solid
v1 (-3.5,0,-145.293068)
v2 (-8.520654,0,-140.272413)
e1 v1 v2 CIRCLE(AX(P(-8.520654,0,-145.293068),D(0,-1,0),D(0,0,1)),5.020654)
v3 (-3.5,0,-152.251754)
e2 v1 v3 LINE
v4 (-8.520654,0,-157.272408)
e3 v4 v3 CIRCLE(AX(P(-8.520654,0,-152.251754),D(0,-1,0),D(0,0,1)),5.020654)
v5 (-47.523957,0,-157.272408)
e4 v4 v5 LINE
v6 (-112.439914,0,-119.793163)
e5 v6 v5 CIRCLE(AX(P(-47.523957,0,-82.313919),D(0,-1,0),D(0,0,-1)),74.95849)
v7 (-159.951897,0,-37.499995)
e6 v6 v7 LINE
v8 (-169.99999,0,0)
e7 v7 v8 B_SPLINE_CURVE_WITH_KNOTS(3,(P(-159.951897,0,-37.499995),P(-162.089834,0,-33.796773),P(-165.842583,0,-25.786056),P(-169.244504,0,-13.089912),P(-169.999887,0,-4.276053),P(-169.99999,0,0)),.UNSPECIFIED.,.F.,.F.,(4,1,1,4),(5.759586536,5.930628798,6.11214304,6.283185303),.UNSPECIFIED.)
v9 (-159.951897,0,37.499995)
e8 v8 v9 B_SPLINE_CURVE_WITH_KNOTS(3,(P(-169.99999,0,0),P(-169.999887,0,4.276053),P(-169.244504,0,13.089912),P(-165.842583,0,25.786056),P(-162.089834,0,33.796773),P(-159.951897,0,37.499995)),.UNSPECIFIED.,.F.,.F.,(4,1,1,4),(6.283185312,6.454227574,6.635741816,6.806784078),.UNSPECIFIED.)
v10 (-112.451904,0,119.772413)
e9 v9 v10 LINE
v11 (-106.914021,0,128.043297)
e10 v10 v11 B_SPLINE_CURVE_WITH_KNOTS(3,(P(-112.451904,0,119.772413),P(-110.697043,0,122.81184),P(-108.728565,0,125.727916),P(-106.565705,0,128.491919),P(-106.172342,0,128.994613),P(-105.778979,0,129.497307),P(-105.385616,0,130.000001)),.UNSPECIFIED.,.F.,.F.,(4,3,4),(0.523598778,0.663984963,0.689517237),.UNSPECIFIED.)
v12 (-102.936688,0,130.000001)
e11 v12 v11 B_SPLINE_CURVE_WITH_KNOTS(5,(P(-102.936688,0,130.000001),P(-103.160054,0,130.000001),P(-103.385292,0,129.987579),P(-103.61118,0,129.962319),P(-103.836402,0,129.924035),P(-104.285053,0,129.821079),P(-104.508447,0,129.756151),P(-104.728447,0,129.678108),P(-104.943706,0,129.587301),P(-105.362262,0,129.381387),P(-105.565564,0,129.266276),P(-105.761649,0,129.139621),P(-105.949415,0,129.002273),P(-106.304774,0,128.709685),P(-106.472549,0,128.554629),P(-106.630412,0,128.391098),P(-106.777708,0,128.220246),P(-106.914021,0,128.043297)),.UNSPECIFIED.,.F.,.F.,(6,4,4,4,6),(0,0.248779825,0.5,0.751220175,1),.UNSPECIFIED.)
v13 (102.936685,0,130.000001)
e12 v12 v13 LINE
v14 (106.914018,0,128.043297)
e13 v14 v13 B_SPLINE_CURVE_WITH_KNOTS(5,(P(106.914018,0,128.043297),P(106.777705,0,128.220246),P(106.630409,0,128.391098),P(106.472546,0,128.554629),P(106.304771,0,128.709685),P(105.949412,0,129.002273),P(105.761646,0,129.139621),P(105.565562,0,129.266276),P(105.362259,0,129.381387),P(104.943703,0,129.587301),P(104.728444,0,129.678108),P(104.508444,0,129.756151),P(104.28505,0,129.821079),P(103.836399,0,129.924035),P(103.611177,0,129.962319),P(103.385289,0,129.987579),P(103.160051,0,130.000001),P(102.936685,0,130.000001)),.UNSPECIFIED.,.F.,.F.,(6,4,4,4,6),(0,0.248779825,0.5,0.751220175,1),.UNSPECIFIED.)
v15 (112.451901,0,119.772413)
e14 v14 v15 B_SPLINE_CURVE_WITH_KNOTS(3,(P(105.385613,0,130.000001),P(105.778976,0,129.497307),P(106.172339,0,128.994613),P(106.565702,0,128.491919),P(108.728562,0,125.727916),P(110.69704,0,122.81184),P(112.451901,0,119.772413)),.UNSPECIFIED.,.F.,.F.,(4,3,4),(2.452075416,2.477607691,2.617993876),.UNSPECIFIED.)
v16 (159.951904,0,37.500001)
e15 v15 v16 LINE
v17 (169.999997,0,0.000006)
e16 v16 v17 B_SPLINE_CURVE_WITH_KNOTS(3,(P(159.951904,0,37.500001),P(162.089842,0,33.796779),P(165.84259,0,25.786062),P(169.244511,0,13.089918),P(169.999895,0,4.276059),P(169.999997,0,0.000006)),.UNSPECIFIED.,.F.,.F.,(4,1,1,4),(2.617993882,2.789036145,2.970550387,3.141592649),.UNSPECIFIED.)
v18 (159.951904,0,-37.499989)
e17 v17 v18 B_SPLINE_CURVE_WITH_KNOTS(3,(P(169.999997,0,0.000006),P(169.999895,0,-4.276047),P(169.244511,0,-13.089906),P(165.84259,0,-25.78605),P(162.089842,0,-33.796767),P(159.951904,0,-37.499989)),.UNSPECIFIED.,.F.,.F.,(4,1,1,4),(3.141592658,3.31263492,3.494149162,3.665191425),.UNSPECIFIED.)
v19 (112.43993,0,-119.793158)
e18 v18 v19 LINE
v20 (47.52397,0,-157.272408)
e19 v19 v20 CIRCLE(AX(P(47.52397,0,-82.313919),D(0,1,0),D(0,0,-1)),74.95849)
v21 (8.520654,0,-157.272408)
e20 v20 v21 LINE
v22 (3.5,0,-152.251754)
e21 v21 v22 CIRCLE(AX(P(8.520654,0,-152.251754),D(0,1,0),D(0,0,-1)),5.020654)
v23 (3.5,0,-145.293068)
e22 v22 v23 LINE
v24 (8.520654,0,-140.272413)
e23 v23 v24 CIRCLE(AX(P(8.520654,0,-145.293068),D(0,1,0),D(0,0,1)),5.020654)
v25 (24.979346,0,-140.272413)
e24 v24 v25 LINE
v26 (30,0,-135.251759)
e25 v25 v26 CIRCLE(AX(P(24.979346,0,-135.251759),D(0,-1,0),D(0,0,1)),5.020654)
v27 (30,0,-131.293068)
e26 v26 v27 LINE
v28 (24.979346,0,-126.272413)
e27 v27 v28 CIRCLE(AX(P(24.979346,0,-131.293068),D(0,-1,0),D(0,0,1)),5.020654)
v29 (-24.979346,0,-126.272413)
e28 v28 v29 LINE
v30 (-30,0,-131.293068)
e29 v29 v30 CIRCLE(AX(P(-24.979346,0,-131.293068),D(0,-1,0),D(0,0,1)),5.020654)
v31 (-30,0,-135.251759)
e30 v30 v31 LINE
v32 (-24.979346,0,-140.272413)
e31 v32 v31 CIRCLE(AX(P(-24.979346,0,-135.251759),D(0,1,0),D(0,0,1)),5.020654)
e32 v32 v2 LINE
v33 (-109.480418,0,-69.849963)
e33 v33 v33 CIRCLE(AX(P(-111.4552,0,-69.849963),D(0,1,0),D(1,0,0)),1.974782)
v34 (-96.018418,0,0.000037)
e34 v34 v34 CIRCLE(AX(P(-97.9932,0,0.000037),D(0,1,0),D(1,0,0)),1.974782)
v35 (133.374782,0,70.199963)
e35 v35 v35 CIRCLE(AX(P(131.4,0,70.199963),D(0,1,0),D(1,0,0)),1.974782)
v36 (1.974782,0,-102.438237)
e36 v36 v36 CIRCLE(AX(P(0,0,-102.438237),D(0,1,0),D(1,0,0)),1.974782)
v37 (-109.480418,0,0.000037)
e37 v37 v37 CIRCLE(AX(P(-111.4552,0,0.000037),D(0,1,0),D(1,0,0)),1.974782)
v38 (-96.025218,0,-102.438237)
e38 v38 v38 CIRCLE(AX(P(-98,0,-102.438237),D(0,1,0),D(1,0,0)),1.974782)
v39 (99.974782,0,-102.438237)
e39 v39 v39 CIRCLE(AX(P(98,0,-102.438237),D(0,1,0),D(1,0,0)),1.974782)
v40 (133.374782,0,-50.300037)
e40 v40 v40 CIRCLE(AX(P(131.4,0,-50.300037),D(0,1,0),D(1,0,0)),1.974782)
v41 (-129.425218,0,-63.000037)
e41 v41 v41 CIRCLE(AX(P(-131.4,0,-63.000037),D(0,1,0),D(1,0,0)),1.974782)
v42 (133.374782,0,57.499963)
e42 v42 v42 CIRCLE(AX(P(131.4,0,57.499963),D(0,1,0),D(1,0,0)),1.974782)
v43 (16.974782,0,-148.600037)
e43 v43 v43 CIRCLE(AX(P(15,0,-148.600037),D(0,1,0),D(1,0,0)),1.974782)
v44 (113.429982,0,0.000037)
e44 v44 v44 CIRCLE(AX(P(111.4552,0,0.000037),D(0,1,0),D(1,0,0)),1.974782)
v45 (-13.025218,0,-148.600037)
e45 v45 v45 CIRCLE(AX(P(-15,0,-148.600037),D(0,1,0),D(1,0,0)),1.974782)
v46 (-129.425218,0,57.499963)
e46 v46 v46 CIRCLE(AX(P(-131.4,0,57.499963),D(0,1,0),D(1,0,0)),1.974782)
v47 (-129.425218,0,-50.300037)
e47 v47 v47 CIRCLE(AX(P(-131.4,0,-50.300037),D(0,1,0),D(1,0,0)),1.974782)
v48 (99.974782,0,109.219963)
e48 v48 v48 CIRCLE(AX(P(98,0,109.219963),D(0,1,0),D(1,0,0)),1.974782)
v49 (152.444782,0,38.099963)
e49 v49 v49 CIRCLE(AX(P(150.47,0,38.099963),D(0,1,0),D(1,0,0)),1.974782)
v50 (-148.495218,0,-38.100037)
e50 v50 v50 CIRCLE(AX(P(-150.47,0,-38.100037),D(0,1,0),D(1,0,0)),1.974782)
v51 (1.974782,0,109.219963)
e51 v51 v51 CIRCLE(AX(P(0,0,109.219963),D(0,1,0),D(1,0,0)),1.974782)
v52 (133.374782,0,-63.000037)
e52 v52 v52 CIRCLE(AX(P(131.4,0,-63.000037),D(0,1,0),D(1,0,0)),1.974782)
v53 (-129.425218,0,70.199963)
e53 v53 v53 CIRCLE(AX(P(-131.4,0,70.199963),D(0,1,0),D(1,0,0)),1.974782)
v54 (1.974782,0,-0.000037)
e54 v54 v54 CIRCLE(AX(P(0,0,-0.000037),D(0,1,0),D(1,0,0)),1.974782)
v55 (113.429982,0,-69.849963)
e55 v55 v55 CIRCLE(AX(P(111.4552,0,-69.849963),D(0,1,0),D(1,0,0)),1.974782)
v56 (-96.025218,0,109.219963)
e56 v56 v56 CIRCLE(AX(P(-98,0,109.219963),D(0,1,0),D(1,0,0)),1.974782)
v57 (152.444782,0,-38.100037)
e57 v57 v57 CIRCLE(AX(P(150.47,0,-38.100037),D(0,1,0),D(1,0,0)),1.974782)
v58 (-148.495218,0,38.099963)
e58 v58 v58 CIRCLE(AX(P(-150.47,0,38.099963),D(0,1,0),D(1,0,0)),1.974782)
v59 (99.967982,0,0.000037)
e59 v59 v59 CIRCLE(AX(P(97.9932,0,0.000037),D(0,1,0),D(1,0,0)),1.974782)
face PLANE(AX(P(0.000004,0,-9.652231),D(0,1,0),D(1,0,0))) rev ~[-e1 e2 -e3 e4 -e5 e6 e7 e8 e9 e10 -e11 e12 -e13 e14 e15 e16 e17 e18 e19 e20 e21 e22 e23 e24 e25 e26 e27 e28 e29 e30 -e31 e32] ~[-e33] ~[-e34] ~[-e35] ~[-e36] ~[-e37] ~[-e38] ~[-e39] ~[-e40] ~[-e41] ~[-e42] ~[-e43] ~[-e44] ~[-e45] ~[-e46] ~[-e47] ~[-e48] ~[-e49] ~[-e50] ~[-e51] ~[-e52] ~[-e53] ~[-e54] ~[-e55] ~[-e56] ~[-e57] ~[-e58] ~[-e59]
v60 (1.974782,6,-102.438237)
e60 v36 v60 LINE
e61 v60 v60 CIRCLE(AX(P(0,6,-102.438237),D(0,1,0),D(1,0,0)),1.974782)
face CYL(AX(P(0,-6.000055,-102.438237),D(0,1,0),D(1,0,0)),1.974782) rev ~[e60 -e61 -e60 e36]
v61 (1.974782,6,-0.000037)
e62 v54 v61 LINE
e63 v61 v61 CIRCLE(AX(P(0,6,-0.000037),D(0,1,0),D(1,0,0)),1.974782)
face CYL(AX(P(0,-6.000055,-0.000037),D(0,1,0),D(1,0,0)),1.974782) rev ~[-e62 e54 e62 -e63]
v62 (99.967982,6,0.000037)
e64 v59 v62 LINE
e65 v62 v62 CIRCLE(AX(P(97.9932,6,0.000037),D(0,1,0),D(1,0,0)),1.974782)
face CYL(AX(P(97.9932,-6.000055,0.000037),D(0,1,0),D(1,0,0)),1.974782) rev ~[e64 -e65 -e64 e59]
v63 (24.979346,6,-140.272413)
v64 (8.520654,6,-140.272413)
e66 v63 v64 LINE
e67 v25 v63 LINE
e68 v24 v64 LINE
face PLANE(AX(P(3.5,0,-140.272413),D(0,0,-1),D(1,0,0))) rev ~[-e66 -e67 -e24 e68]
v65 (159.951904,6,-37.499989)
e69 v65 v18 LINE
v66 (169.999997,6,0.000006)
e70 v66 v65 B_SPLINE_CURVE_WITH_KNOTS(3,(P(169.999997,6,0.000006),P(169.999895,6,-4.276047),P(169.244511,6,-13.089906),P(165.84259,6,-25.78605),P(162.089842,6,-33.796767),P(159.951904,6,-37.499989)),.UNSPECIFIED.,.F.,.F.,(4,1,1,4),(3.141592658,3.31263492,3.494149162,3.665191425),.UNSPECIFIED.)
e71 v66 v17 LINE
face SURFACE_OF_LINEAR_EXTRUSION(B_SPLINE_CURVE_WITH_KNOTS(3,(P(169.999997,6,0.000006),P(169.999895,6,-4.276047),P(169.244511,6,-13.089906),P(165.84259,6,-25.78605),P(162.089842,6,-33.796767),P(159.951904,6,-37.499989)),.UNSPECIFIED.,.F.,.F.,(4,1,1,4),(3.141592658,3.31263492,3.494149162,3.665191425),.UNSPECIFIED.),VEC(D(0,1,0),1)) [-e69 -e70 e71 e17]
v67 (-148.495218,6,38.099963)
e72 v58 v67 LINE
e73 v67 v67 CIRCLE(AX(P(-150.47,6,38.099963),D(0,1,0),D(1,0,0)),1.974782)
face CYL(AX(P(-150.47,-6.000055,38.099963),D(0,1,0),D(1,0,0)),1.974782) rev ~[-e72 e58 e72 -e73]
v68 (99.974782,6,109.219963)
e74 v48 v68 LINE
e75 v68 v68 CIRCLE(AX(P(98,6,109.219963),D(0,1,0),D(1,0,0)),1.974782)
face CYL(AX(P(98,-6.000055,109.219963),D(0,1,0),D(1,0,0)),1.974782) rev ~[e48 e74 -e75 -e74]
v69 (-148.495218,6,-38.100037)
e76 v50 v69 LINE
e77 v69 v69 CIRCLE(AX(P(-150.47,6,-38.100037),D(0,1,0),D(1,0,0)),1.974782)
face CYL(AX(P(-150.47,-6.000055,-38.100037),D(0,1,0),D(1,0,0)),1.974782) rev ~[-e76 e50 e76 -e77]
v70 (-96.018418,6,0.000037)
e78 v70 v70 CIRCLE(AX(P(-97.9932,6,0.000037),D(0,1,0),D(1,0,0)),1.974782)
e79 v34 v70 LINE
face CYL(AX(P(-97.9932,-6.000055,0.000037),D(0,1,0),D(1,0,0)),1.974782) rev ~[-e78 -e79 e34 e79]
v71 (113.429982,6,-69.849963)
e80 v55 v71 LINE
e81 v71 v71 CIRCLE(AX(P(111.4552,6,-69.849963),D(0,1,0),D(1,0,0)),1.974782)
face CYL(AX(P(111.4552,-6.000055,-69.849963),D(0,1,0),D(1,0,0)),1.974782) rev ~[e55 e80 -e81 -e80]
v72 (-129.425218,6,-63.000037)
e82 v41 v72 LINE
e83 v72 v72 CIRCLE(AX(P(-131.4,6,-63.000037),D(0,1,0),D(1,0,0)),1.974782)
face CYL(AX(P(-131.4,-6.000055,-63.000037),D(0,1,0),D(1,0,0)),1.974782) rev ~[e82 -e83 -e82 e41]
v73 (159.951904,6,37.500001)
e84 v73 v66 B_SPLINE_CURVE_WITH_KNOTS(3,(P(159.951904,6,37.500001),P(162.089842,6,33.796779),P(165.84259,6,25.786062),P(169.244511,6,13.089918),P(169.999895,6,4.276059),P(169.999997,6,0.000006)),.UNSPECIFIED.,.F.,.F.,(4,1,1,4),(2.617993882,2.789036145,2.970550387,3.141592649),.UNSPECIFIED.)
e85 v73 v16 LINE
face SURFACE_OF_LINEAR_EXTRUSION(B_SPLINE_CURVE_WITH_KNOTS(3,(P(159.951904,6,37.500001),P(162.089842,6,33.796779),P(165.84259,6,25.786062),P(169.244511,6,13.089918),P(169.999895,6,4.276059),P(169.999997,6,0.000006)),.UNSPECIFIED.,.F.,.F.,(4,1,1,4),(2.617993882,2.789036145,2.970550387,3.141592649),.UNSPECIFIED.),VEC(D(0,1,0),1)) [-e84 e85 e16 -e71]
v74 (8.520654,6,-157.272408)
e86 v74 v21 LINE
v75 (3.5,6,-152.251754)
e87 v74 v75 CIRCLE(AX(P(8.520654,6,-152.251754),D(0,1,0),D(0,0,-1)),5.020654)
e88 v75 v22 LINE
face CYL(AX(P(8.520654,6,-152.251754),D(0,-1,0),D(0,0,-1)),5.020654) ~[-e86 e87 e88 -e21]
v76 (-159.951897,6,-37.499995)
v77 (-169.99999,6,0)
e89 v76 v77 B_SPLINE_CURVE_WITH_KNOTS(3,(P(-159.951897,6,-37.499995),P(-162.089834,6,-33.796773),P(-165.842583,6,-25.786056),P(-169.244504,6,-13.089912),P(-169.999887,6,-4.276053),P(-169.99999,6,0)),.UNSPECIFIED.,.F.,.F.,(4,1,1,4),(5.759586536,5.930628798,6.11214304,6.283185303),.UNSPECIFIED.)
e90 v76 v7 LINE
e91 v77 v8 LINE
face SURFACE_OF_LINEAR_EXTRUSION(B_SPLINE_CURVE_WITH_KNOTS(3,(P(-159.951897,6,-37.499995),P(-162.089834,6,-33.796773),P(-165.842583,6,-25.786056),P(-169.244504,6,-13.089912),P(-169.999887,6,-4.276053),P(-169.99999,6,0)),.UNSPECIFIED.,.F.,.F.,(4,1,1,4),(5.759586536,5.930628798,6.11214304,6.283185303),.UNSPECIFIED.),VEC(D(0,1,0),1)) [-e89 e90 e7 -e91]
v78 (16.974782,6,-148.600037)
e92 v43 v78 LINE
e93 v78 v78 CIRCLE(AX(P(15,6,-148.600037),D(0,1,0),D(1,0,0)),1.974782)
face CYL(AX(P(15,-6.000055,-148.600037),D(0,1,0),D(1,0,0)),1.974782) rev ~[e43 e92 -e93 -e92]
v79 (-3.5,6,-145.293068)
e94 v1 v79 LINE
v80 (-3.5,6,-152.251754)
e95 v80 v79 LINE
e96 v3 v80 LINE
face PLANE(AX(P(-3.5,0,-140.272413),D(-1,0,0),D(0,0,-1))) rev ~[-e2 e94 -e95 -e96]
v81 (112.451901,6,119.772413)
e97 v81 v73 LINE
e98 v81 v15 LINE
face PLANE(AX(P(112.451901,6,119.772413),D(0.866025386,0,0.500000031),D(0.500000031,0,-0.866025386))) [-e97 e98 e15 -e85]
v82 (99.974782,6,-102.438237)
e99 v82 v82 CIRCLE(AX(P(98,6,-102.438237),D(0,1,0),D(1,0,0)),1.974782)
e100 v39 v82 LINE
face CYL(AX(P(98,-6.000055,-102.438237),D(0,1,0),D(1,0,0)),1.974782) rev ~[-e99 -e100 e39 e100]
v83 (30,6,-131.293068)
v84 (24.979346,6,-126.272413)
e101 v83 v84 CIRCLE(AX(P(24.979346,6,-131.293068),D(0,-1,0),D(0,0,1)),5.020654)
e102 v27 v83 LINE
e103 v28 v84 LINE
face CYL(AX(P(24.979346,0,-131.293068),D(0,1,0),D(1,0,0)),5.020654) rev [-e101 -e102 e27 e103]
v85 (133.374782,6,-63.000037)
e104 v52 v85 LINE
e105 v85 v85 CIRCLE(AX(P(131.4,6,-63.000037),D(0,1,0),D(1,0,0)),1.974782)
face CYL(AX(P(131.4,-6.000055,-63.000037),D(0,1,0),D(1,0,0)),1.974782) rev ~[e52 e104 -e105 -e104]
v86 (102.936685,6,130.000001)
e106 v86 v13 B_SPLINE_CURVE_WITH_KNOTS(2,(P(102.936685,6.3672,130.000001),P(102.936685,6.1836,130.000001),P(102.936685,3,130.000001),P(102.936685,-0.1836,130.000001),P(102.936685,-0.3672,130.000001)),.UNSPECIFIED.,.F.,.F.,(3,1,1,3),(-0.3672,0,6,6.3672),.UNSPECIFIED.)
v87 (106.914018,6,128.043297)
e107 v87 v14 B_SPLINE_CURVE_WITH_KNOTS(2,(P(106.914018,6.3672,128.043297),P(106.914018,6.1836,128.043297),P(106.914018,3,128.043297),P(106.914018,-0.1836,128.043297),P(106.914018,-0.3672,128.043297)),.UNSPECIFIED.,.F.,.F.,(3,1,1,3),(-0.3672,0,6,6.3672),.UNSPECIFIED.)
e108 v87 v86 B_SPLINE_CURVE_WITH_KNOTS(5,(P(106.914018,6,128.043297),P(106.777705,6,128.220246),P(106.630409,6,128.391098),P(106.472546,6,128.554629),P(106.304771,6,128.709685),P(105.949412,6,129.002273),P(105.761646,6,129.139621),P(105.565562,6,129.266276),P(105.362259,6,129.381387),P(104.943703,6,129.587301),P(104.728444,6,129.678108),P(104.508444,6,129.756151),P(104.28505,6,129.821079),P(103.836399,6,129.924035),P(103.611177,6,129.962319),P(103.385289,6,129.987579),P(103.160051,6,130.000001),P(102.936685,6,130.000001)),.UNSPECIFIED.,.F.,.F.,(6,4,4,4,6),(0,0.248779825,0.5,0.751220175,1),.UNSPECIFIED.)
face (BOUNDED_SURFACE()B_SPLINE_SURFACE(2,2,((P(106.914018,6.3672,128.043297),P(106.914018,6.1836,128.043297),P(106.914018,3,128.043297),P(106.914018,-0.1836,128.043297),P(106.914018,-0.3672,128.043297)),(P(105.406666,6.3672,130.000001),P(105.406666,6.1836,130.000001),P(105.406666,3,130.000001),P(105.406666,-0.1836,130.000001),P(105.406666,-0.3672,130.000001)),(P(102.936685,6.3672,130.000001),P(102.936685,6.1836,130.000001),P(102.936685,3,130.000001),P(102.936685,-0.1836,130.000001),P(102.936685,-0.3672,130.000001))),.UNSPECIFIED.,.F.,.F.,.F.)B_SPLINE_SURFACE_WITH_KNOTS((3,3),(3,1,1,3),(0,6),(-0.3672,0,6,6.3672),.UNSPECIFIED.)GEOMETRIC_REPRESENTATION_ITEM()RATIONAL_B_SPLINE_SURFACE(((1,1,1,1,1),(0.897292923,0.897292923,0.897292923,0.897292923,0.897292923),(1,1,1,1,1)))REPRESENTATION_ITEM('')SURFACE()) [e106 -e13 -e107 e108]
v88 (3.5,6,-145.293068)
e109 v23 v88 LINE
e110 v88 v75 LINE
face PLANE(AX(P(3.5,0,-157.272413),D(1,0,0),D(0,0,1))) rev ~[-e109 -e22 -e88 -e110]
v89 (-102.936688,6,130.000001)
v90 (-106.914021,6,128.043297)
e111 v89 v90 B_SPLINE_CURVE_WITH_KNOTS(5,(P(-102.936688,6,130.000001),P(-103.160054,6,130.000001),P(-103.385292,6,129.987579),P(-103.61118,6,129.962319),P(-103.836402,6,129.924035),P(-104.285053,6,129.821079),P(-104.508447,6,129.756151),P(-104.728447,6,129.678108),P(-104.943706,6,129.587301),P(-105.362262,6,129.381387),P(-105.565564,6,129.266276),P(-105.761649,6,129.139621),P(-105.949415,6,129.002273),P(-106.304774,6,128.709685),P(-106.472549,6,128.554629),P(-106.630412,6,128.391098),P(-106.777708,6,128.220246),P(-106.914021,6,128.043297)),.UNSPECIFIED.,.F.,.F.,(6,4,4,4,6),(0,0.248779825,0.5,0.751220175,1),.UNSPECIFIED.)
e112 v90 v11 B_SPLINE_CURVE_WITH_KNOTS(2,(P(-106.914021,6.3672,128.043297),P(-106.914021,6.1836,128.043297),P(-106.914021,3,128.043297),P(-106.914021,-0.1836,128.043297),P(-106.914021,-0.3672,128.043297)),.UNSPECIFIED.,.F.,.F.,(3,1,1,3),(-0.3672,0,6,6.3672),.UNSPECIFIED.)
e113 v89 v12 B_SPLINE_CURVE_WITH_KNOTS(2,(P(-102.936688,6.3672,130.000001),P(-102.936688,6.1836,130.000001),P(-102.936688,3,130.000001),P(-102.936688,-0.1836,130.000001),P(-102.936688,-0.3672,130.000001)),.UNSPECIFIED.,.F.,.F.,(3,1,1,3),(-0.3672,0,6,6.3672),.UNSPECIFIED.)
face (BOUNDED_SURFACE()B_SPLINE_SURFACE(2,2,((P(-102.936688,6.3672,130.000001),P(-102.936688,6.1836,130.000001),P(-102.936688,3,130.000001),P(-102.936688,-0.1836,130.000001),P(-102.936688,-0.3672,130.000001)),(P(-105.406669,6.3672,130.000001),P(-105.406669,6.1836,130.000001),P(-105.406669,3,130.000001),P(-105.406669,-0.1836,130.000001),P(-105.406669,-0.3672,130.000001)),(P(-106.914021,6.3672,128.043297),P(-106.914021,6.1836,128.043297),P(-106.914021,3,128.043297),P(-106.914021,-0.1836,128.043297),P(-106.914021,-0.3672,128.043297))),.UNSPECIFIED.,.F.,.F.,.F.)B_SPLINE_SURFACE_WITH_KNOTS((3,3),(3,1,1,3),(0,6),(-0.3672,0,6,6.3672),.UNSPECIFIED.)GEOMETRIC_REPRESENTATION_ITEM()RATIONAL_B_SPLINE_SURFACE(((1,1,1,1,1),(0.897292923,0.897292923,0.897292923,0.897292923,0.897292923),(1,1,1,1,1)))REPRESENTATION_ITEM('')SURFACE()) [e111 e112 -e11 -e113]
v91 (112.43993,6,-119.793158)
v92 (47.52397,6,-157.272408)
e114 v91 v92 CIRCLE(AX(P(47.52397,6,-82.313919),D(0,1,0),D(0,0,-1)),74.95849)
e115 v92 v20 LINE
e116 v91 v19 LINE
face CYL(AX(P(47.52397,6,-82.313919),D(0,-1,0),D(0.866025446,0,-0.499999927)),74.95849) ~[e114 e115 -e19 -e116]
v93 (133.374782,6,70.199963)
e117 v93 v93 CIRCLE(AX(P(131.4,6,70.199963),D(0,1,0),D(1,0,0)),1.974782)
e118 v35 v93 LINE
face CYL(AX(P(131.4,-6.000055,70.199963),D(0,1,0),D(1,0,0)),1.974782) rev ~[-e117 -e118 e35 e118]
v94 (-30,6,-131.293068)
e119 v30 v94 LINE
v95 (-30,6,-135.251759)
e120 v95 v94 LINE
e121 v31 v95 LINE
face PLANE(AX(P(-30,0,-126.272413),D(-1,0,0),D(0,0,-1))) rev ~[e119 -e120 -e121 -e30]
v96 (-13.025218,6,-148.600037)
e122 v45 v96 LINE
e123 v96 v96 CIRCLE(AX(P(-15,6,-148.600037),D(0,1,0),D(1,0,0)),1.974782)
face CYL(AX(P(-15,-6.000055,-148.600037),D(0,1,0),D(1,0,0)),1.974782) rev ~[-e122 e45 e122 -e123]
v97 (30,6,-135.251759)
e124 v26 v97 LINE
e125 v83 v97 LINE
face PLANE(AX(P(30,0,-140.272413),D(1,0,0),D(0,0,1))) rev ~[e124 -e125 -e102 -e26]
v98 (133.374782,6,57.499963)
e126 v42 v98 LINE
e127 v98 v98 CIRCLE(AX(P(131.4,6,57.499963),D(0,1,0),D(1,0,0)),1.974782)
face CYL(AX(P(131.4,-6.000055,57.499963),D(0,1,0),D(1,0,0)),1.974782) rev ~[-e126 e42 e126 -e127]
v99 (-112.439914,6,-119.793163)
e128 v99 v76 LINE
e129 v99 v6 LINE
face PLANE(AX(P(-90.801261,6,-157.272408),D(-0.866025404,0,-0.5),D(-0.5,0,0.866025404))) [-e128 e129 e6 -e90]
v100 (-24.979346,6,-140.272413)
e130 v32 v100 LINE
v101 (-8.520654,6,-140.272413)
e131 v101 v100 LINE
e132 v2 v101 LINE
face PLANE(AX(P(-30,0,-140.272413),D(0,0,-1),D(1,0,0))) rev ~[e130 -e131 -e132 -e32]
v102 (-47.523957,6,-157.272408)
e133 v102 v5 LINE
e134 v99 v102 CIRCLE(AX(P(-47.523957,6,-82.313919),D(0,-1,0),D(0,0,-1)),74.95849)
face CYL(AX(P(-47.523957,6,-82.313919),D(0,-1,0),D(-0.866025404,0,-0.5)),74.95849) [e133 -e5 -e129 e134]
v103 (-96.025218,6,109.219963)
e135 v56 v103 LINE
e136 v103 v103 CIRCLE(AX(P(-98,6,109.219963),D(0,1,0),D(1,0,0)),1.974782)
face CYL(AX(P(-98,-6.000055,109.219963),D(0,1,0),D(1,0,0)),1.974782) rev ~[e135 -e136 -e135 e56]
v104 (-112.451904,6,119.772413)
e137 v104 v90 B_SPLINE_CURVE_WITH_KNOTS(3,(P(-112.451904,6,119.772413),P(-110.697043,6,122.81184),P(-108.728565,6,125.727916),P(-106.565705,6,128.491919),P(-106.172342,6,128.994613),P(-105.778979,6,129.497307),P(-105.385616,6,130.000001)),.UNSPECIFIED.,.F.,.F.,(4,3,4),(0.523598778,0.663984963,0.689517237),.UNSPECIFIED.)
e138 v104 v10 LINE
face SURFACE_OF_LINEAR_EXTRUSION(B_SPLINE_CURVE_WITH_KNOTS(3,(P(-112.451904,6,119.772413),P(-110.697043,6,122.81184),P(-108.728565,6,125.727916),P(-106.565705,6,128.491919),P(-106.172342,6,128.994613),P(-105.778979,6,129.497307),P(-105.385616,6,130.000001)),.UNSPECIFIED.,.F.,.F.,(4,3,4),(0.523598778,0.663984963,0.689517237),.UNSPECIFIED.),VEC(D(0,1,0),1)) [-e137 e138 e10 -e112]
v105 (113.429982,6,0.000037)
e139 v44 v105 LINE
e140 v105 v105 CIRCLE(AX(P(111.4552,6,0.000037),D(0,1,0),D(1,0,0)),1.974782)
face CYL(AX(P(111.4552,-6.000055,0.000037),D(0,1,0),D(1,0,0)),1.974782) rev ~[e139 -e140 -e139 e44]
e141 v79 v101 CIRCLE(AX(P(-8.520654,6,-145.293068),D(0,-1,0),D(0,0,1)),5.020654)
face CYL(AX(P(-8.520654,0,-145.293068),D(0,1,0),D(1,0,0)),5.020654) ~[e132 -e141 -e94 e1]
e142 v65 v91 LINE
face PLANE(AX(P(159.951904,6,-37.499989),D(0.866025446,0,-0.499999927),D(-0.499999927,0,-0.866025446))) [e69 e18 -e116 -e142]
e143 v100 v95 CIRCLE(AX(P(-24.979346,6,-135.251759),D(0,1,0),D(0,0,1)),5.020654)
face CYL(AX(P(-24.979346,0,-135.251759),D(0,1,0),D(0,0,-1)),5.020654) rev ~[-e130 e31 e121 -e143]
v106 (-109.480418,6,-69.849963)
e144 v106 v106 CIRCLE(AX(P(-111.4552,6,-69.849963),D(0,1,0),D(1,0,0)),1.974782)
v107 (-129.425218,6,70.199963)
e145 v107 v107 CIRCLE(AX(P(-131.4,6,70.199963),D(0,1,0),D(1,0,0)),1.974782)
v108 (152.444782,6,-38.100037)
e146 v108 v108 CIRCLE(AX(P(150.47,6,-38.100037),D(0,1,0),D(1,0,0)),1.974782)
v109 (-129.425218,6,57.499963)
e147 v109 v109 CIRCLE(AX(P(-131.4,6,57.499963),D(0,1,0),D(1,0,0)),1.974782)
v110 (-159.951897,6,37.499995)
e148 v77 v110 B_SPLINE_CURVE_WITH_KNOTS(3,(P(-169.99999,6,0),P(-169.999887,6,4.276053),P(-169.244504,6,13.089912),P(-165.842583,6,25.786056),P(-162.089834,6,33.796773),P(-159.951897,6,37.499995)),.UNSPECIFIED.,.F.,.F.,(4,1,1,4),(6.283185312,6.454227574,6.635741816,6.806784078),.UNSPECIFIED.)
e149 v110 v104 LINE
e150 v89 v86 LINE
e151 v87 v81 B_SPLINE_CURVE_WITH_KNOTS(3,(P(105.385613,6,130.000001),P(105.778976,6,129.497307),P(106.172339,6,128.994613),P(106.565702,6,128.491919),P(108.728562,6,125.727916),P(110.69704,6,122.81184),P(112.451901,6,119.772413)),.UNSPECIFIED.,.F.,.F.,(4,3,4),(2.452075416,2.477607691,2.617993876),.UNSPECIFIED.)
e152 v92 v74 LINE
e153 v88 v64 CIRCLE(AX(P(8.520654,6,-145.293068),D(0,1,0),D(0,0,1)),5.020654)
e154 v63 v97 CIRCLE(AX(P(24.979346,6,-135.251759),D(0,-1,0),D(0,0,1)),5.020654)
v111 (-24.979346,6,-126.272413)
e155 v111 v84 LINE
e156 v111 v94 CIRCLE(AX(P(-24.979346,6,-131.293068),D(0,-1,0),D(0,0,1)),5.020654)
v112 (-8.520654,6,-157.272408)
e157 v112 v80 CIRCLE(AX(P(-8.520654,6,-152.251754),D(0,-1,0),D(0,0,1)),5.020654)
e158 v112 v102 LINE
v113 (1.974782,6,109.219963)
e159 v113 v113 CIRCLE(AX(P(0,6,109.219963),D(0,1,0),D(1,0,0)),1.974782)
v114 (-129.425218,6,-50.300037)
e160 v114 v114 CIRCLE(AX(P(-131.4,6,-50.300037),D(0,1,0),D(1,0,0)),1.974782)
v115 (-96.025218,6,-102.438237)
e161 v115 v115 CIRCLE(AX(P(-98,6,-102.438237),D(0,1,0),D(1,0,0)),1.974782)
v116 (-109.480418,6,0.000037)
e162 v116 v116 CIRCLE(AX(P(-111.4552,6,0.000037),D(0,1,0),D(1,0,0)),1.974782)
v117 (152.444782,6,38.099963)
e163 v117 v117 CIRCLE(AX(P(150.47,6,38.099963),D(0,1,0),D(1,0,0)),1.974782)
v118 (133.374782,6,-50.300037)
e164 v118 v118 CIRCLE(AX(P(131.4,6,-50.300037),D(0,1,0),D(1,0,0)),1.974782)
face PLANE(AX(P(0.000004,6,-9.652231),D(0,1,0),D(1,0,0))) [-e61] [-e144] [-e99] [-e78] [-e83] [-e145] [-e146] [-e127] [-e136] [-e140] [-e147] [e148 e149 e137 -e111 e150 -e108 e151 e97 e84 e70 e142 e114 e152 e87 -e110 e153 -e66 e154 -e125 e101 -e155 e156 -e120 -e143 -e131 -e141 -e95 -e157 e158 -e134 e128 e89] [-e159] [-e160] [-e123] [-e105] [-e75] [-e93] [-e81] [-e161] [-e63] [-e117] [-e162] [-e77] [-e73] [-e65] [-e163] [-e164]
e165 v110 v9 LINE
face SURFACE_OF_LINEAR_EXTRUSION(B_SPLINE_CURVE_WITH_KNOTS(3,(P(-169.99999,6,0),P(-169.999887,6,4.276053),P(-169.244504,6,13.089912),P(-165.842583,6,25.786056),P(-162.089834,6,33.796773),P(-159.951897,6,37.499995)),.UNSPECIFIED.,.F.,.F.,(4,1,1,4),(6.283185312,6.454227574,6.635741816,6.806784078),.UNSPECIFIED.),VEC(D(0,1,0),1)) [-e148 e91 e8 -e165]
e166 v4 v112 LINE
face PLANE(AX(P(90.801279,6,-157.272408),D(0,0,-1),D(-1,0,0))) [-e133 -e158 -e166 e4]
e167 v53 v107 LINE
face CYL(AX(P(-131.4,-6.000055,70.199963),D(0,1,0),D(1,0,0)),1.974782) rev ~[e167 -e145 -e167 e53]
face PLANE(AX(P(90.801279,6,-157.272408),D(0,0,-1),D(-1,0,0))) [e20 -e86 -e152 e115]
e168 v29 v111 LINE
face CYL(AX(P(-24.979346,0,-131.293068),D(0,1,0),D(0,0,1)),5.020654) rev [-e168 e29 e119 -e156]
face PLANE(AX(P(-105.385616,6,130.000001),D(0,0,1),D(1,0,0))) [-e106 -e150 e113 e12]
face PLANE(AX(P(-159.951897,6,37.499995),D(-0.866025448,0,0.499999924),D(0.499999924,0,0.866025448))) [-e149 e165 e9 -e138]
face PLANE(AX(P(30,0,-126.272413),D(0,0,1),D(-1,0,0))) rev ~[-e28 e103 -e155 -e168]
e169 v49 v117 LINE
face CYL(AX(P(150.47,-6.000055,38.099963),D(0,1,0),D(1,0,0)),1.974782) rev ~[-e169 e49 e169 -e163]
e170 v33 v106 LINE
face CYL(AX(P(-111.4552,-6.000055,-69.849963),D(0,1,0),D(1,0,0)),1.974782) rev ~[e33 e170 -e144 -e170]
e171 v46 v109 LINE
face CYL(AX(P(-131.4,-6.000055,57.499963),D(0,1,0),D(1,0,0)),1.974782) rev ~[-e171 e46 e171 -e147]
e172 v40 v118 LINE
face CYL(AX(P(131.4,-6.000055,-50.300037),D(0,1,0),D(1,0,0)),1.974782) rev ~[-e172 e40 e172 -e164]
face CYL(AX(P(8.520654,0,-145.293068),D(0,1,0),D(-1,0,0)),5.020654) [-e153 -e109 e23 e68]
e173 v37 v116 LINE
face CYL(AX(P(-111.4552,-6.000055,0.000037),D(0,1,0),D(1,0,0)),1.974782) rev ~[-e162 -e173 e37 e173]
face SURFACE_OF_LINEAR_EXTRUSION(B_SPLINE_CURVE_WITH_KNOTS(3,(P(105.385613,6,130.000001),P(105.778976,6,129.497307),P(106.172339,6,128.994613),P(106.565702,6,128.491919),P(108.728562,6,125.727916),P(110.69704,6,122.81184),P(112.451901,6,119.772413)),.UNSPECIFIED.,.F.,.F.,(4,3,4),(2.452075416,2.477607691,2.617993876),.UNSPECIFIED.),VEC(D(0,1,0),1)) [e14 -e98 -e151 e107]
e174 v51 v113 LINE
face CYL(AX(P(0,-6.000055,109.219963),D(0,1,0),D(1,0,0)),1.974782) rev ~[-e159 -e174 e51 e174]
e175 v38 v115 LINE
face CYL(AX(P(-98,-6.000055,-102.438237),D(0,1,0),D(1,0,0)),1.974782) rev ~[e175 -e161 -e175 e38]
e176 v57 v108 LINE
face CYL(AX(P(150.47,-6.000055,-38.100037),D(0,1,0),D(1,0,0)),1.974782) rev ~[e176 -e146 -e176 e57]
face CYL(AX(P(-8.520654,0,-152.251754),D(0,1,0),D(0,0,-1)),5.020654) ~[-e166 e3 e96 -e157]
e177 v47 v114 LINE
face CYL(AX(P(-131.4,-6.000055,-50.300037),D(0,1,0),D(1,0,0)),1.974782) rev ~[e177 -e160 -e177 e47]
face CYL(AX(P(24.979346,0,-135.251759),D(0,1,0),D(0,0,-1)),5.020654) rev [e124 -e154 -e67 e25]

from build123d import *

# Parameters (mm, degrees)
BOSS_EXTRUDE1_DEPTH        = 6
CUT_EXTRUDE1_DEPTH         = 7.0000001
M3_5_CLEARANCE_HOLE1_D     = 3.949564791
M3_5_CLEARANCE_HOLE1_DEPTH = 6.000055
FILLET1_R                  = 5.02065441
FILLET2_R                  = 74.958489821


with BuildPart() as part:
    # Sketch1 → Boss-Extrude1 (new body)
    with BuildSketch(Plane(origin=(0, 6, 0), x_dir=(1, 0, 0), z_dir=(0, 1, 0))):
        with BuildLine():
            Line((112.451900879, -119.772412512), (159.951903815, -37.500000848))
            add(Edge.make_bspline(
                [(159.951903815, -37.500000848), (162.089841538, -33.796778918), (165.842589826, -25.786061926), (169.244511458, -13.089917553), (169.999894602, -4.276058992), (169.999997188, -5.864e-06)],
                knots=[2.617993882, 2.617993882, 2.617993882, 2.617993882, 2.789036145, 2.970550387, 3.141592649, 3.141592649, 3.141592649, 3.141592649], degree=3))
            add(Edge.make_bspline(
                [(169.999997188, -5.864e-06), (169.999894602, 4.276047264), (169.244511458, 13.089905825), (165.842589826, 25.786050198), (162.089841538, 33.79676719), (159.951903815, 37.49998912)],
                knots=[3.141592658, 3.141592658, 3.141592658, 3.141592658, 3.31263492, 3.494149162, 3.665191425, 3.665191425, 3.665191425, 3.665191425], degree=3))
            Line((159.951903815, 37.49998912), (90.801278878, 157.272408343))
            Line((90.801278878, 157.272408343), (-90.8012615, 157.272408343))
            Line((-90.8012615, 157.272408343), (-159.951896595, 37.499994984))
            add(Edge.make_bspline(
                [(-159.951896595, 37.499994984), (-162.089834317, 33.796773054), (-165.842582605, 25.786056062), (-169.244504237, 13.08991169), (-169.999887381, 4.276053128), (-169.999989967, 0)],
                knots=[5.759586536, 5.759586536, 5.759586536, 5.759586536, 5.930628798, 6.11214304, 6.283185303, 6.283185303, 6.283185303, 6.283185303], degree=3))
            add(Edge.make_bspline(
                [(-169.999989967, 0), (-169.999887381, -4.276053128), (-169.244504237, -13.089911689), (-165.842582605, -25.786056062), (-162.089834317, -33.796773054), (-159.951896595, -37.499994984)],
                knots=[6.283185312, 6.283185312, 6.283185312, 6.283185312, 6.454227574, 6.635741816, 6.806784078, 6.806784078, 6.806784078, 6.806784078], degree=3))
            Line((-159.951896595, -37.499994984), (-112.451903815, -119.772412512))
            add(Edge.make_bspline(
                [(-112.451903815, -119.772412512), (-110.697042547, -122.811840435), (-108.72856528, -125.72791615), (-106.565705299, -128.491919084), (-106.17234227, -128.994613005), (-105.778979241, -129.497306926), (-105.385616213, -130.000000848)],
                knots=[0.523598778, 0.523598778, 0.523598778, 0.523598778, 0.663984963, 0.663984963, 0.663984963, 0.689517237, 0.689517237, 0.689517237, 0.689517237], degree=3))
            Line((-105.385616213, -130.000000848), (105.385613276, -130.000000848))
            add(Edge.make_bspline(
                [(105.385613276, -130.000000848), (105.778976305, -129.497306926), (106.172339333, -128.994613005), (106.565702362, -128.491919084), (108.728562343, -125.72791615), (110.69703961, -122.811840435), (112.451900879, -119.772412512)],
                knots=[2.452075416, 2.452075416, 2.452075416, 2.452075416, 2.477607691, 2.477607691, 2.477607691, 2.617993876, 2.617993876, 2.617993876, 2.617993876], degree=3))
        make_face()
    extrude(amount=-BOSS_EXTRUDE1_DEPTH)

    # Sketch2 → Cut-Extrude1 (cut, through all)
    with BuildSketch(Plane.XZ):
        Polygon((3.5, -157.27241336), (3.5, -140.27241336), (30, -140.27241336), (30, -126.27241336), (-30, -126.27241336), (-30, -140.27241336), (-3.5, -140.27241336), (-3.5, -157.27241336), align=None)
    extrude(amount=-CUT_EXTRUDE1_DEPTH, mode=Mode.SUBTRACT)

    # M3.5 Clearance Hole1
    with Locations(Plane(origin=(0, 0, 0), x_dir=(-1, 0, 0), z_dir=(0, -1, 0))):
        with Locations((98, -109.219962871), (-98, 102.438237129), (98, 102.438237129), (0, 102.438237129), (0, -109.219962871), (0, 3.7129e-05), (-97.9932, -3.7129e-05), (97.9932, -3.7129e-05), (111.4552, 69.849962871), (111.4552, -3.7129e-05), (-111.4552, 69.849962871), (-111.4552, -3.7129e-05), (-98, -109.219962871), (131.4, 50.300037129), (-131.4, 50.300037129), (131.4, -70.199962871), (-131.4, -70.199962871), (131.4, 63.000037129), (-131.4, 63.000037129), (131.4, -57.499962871), (-131.4, -57.499962871), (15, 148.600037129), (-15, 148.600037129), (150.47, 38.100037129), (150.47, -38.099962871), (-150.47, 38.100037129), (-150.47, -38.099962871)):
            Hole(M3_5_CLEARANCE_HOLE1_D / 2, depth=M3_5_CLEARANCE_HOLE1_DEPTH)

    # Fillet1
    fillet1_edges = [part.edges().sort_by_distance(p)[0] for p in [
        (-105.385616213, 3, 130.000000848),
        (3.5, 3, -140.27241336),
        (-3.5, 3, -157.272408343),
        (-30, 3, -126.27241336),
        (3.5, 3, -157.272408343),
        (-30, 3, -140.27241336),
        (-3.5, 3, -140.27241336),
        (30, 3, -140.27241336),
        (105.385613276, 3, 130.000000848),
        (30, 3, -126.27241336),
    ]]
    fillet(fillet1_edges, radius=FILLET1_R)

    # Fillet2
    fillet2_edges = [part.edges().sort_by_distance(p)[0] for p in [
        (90.801278878, 3, -157.272408343),
        (-90.8012615, 3, -157.272408343),
    ]]
    fillet(fillet2_edges, radius=FILLET2_R)


solid = part.part
